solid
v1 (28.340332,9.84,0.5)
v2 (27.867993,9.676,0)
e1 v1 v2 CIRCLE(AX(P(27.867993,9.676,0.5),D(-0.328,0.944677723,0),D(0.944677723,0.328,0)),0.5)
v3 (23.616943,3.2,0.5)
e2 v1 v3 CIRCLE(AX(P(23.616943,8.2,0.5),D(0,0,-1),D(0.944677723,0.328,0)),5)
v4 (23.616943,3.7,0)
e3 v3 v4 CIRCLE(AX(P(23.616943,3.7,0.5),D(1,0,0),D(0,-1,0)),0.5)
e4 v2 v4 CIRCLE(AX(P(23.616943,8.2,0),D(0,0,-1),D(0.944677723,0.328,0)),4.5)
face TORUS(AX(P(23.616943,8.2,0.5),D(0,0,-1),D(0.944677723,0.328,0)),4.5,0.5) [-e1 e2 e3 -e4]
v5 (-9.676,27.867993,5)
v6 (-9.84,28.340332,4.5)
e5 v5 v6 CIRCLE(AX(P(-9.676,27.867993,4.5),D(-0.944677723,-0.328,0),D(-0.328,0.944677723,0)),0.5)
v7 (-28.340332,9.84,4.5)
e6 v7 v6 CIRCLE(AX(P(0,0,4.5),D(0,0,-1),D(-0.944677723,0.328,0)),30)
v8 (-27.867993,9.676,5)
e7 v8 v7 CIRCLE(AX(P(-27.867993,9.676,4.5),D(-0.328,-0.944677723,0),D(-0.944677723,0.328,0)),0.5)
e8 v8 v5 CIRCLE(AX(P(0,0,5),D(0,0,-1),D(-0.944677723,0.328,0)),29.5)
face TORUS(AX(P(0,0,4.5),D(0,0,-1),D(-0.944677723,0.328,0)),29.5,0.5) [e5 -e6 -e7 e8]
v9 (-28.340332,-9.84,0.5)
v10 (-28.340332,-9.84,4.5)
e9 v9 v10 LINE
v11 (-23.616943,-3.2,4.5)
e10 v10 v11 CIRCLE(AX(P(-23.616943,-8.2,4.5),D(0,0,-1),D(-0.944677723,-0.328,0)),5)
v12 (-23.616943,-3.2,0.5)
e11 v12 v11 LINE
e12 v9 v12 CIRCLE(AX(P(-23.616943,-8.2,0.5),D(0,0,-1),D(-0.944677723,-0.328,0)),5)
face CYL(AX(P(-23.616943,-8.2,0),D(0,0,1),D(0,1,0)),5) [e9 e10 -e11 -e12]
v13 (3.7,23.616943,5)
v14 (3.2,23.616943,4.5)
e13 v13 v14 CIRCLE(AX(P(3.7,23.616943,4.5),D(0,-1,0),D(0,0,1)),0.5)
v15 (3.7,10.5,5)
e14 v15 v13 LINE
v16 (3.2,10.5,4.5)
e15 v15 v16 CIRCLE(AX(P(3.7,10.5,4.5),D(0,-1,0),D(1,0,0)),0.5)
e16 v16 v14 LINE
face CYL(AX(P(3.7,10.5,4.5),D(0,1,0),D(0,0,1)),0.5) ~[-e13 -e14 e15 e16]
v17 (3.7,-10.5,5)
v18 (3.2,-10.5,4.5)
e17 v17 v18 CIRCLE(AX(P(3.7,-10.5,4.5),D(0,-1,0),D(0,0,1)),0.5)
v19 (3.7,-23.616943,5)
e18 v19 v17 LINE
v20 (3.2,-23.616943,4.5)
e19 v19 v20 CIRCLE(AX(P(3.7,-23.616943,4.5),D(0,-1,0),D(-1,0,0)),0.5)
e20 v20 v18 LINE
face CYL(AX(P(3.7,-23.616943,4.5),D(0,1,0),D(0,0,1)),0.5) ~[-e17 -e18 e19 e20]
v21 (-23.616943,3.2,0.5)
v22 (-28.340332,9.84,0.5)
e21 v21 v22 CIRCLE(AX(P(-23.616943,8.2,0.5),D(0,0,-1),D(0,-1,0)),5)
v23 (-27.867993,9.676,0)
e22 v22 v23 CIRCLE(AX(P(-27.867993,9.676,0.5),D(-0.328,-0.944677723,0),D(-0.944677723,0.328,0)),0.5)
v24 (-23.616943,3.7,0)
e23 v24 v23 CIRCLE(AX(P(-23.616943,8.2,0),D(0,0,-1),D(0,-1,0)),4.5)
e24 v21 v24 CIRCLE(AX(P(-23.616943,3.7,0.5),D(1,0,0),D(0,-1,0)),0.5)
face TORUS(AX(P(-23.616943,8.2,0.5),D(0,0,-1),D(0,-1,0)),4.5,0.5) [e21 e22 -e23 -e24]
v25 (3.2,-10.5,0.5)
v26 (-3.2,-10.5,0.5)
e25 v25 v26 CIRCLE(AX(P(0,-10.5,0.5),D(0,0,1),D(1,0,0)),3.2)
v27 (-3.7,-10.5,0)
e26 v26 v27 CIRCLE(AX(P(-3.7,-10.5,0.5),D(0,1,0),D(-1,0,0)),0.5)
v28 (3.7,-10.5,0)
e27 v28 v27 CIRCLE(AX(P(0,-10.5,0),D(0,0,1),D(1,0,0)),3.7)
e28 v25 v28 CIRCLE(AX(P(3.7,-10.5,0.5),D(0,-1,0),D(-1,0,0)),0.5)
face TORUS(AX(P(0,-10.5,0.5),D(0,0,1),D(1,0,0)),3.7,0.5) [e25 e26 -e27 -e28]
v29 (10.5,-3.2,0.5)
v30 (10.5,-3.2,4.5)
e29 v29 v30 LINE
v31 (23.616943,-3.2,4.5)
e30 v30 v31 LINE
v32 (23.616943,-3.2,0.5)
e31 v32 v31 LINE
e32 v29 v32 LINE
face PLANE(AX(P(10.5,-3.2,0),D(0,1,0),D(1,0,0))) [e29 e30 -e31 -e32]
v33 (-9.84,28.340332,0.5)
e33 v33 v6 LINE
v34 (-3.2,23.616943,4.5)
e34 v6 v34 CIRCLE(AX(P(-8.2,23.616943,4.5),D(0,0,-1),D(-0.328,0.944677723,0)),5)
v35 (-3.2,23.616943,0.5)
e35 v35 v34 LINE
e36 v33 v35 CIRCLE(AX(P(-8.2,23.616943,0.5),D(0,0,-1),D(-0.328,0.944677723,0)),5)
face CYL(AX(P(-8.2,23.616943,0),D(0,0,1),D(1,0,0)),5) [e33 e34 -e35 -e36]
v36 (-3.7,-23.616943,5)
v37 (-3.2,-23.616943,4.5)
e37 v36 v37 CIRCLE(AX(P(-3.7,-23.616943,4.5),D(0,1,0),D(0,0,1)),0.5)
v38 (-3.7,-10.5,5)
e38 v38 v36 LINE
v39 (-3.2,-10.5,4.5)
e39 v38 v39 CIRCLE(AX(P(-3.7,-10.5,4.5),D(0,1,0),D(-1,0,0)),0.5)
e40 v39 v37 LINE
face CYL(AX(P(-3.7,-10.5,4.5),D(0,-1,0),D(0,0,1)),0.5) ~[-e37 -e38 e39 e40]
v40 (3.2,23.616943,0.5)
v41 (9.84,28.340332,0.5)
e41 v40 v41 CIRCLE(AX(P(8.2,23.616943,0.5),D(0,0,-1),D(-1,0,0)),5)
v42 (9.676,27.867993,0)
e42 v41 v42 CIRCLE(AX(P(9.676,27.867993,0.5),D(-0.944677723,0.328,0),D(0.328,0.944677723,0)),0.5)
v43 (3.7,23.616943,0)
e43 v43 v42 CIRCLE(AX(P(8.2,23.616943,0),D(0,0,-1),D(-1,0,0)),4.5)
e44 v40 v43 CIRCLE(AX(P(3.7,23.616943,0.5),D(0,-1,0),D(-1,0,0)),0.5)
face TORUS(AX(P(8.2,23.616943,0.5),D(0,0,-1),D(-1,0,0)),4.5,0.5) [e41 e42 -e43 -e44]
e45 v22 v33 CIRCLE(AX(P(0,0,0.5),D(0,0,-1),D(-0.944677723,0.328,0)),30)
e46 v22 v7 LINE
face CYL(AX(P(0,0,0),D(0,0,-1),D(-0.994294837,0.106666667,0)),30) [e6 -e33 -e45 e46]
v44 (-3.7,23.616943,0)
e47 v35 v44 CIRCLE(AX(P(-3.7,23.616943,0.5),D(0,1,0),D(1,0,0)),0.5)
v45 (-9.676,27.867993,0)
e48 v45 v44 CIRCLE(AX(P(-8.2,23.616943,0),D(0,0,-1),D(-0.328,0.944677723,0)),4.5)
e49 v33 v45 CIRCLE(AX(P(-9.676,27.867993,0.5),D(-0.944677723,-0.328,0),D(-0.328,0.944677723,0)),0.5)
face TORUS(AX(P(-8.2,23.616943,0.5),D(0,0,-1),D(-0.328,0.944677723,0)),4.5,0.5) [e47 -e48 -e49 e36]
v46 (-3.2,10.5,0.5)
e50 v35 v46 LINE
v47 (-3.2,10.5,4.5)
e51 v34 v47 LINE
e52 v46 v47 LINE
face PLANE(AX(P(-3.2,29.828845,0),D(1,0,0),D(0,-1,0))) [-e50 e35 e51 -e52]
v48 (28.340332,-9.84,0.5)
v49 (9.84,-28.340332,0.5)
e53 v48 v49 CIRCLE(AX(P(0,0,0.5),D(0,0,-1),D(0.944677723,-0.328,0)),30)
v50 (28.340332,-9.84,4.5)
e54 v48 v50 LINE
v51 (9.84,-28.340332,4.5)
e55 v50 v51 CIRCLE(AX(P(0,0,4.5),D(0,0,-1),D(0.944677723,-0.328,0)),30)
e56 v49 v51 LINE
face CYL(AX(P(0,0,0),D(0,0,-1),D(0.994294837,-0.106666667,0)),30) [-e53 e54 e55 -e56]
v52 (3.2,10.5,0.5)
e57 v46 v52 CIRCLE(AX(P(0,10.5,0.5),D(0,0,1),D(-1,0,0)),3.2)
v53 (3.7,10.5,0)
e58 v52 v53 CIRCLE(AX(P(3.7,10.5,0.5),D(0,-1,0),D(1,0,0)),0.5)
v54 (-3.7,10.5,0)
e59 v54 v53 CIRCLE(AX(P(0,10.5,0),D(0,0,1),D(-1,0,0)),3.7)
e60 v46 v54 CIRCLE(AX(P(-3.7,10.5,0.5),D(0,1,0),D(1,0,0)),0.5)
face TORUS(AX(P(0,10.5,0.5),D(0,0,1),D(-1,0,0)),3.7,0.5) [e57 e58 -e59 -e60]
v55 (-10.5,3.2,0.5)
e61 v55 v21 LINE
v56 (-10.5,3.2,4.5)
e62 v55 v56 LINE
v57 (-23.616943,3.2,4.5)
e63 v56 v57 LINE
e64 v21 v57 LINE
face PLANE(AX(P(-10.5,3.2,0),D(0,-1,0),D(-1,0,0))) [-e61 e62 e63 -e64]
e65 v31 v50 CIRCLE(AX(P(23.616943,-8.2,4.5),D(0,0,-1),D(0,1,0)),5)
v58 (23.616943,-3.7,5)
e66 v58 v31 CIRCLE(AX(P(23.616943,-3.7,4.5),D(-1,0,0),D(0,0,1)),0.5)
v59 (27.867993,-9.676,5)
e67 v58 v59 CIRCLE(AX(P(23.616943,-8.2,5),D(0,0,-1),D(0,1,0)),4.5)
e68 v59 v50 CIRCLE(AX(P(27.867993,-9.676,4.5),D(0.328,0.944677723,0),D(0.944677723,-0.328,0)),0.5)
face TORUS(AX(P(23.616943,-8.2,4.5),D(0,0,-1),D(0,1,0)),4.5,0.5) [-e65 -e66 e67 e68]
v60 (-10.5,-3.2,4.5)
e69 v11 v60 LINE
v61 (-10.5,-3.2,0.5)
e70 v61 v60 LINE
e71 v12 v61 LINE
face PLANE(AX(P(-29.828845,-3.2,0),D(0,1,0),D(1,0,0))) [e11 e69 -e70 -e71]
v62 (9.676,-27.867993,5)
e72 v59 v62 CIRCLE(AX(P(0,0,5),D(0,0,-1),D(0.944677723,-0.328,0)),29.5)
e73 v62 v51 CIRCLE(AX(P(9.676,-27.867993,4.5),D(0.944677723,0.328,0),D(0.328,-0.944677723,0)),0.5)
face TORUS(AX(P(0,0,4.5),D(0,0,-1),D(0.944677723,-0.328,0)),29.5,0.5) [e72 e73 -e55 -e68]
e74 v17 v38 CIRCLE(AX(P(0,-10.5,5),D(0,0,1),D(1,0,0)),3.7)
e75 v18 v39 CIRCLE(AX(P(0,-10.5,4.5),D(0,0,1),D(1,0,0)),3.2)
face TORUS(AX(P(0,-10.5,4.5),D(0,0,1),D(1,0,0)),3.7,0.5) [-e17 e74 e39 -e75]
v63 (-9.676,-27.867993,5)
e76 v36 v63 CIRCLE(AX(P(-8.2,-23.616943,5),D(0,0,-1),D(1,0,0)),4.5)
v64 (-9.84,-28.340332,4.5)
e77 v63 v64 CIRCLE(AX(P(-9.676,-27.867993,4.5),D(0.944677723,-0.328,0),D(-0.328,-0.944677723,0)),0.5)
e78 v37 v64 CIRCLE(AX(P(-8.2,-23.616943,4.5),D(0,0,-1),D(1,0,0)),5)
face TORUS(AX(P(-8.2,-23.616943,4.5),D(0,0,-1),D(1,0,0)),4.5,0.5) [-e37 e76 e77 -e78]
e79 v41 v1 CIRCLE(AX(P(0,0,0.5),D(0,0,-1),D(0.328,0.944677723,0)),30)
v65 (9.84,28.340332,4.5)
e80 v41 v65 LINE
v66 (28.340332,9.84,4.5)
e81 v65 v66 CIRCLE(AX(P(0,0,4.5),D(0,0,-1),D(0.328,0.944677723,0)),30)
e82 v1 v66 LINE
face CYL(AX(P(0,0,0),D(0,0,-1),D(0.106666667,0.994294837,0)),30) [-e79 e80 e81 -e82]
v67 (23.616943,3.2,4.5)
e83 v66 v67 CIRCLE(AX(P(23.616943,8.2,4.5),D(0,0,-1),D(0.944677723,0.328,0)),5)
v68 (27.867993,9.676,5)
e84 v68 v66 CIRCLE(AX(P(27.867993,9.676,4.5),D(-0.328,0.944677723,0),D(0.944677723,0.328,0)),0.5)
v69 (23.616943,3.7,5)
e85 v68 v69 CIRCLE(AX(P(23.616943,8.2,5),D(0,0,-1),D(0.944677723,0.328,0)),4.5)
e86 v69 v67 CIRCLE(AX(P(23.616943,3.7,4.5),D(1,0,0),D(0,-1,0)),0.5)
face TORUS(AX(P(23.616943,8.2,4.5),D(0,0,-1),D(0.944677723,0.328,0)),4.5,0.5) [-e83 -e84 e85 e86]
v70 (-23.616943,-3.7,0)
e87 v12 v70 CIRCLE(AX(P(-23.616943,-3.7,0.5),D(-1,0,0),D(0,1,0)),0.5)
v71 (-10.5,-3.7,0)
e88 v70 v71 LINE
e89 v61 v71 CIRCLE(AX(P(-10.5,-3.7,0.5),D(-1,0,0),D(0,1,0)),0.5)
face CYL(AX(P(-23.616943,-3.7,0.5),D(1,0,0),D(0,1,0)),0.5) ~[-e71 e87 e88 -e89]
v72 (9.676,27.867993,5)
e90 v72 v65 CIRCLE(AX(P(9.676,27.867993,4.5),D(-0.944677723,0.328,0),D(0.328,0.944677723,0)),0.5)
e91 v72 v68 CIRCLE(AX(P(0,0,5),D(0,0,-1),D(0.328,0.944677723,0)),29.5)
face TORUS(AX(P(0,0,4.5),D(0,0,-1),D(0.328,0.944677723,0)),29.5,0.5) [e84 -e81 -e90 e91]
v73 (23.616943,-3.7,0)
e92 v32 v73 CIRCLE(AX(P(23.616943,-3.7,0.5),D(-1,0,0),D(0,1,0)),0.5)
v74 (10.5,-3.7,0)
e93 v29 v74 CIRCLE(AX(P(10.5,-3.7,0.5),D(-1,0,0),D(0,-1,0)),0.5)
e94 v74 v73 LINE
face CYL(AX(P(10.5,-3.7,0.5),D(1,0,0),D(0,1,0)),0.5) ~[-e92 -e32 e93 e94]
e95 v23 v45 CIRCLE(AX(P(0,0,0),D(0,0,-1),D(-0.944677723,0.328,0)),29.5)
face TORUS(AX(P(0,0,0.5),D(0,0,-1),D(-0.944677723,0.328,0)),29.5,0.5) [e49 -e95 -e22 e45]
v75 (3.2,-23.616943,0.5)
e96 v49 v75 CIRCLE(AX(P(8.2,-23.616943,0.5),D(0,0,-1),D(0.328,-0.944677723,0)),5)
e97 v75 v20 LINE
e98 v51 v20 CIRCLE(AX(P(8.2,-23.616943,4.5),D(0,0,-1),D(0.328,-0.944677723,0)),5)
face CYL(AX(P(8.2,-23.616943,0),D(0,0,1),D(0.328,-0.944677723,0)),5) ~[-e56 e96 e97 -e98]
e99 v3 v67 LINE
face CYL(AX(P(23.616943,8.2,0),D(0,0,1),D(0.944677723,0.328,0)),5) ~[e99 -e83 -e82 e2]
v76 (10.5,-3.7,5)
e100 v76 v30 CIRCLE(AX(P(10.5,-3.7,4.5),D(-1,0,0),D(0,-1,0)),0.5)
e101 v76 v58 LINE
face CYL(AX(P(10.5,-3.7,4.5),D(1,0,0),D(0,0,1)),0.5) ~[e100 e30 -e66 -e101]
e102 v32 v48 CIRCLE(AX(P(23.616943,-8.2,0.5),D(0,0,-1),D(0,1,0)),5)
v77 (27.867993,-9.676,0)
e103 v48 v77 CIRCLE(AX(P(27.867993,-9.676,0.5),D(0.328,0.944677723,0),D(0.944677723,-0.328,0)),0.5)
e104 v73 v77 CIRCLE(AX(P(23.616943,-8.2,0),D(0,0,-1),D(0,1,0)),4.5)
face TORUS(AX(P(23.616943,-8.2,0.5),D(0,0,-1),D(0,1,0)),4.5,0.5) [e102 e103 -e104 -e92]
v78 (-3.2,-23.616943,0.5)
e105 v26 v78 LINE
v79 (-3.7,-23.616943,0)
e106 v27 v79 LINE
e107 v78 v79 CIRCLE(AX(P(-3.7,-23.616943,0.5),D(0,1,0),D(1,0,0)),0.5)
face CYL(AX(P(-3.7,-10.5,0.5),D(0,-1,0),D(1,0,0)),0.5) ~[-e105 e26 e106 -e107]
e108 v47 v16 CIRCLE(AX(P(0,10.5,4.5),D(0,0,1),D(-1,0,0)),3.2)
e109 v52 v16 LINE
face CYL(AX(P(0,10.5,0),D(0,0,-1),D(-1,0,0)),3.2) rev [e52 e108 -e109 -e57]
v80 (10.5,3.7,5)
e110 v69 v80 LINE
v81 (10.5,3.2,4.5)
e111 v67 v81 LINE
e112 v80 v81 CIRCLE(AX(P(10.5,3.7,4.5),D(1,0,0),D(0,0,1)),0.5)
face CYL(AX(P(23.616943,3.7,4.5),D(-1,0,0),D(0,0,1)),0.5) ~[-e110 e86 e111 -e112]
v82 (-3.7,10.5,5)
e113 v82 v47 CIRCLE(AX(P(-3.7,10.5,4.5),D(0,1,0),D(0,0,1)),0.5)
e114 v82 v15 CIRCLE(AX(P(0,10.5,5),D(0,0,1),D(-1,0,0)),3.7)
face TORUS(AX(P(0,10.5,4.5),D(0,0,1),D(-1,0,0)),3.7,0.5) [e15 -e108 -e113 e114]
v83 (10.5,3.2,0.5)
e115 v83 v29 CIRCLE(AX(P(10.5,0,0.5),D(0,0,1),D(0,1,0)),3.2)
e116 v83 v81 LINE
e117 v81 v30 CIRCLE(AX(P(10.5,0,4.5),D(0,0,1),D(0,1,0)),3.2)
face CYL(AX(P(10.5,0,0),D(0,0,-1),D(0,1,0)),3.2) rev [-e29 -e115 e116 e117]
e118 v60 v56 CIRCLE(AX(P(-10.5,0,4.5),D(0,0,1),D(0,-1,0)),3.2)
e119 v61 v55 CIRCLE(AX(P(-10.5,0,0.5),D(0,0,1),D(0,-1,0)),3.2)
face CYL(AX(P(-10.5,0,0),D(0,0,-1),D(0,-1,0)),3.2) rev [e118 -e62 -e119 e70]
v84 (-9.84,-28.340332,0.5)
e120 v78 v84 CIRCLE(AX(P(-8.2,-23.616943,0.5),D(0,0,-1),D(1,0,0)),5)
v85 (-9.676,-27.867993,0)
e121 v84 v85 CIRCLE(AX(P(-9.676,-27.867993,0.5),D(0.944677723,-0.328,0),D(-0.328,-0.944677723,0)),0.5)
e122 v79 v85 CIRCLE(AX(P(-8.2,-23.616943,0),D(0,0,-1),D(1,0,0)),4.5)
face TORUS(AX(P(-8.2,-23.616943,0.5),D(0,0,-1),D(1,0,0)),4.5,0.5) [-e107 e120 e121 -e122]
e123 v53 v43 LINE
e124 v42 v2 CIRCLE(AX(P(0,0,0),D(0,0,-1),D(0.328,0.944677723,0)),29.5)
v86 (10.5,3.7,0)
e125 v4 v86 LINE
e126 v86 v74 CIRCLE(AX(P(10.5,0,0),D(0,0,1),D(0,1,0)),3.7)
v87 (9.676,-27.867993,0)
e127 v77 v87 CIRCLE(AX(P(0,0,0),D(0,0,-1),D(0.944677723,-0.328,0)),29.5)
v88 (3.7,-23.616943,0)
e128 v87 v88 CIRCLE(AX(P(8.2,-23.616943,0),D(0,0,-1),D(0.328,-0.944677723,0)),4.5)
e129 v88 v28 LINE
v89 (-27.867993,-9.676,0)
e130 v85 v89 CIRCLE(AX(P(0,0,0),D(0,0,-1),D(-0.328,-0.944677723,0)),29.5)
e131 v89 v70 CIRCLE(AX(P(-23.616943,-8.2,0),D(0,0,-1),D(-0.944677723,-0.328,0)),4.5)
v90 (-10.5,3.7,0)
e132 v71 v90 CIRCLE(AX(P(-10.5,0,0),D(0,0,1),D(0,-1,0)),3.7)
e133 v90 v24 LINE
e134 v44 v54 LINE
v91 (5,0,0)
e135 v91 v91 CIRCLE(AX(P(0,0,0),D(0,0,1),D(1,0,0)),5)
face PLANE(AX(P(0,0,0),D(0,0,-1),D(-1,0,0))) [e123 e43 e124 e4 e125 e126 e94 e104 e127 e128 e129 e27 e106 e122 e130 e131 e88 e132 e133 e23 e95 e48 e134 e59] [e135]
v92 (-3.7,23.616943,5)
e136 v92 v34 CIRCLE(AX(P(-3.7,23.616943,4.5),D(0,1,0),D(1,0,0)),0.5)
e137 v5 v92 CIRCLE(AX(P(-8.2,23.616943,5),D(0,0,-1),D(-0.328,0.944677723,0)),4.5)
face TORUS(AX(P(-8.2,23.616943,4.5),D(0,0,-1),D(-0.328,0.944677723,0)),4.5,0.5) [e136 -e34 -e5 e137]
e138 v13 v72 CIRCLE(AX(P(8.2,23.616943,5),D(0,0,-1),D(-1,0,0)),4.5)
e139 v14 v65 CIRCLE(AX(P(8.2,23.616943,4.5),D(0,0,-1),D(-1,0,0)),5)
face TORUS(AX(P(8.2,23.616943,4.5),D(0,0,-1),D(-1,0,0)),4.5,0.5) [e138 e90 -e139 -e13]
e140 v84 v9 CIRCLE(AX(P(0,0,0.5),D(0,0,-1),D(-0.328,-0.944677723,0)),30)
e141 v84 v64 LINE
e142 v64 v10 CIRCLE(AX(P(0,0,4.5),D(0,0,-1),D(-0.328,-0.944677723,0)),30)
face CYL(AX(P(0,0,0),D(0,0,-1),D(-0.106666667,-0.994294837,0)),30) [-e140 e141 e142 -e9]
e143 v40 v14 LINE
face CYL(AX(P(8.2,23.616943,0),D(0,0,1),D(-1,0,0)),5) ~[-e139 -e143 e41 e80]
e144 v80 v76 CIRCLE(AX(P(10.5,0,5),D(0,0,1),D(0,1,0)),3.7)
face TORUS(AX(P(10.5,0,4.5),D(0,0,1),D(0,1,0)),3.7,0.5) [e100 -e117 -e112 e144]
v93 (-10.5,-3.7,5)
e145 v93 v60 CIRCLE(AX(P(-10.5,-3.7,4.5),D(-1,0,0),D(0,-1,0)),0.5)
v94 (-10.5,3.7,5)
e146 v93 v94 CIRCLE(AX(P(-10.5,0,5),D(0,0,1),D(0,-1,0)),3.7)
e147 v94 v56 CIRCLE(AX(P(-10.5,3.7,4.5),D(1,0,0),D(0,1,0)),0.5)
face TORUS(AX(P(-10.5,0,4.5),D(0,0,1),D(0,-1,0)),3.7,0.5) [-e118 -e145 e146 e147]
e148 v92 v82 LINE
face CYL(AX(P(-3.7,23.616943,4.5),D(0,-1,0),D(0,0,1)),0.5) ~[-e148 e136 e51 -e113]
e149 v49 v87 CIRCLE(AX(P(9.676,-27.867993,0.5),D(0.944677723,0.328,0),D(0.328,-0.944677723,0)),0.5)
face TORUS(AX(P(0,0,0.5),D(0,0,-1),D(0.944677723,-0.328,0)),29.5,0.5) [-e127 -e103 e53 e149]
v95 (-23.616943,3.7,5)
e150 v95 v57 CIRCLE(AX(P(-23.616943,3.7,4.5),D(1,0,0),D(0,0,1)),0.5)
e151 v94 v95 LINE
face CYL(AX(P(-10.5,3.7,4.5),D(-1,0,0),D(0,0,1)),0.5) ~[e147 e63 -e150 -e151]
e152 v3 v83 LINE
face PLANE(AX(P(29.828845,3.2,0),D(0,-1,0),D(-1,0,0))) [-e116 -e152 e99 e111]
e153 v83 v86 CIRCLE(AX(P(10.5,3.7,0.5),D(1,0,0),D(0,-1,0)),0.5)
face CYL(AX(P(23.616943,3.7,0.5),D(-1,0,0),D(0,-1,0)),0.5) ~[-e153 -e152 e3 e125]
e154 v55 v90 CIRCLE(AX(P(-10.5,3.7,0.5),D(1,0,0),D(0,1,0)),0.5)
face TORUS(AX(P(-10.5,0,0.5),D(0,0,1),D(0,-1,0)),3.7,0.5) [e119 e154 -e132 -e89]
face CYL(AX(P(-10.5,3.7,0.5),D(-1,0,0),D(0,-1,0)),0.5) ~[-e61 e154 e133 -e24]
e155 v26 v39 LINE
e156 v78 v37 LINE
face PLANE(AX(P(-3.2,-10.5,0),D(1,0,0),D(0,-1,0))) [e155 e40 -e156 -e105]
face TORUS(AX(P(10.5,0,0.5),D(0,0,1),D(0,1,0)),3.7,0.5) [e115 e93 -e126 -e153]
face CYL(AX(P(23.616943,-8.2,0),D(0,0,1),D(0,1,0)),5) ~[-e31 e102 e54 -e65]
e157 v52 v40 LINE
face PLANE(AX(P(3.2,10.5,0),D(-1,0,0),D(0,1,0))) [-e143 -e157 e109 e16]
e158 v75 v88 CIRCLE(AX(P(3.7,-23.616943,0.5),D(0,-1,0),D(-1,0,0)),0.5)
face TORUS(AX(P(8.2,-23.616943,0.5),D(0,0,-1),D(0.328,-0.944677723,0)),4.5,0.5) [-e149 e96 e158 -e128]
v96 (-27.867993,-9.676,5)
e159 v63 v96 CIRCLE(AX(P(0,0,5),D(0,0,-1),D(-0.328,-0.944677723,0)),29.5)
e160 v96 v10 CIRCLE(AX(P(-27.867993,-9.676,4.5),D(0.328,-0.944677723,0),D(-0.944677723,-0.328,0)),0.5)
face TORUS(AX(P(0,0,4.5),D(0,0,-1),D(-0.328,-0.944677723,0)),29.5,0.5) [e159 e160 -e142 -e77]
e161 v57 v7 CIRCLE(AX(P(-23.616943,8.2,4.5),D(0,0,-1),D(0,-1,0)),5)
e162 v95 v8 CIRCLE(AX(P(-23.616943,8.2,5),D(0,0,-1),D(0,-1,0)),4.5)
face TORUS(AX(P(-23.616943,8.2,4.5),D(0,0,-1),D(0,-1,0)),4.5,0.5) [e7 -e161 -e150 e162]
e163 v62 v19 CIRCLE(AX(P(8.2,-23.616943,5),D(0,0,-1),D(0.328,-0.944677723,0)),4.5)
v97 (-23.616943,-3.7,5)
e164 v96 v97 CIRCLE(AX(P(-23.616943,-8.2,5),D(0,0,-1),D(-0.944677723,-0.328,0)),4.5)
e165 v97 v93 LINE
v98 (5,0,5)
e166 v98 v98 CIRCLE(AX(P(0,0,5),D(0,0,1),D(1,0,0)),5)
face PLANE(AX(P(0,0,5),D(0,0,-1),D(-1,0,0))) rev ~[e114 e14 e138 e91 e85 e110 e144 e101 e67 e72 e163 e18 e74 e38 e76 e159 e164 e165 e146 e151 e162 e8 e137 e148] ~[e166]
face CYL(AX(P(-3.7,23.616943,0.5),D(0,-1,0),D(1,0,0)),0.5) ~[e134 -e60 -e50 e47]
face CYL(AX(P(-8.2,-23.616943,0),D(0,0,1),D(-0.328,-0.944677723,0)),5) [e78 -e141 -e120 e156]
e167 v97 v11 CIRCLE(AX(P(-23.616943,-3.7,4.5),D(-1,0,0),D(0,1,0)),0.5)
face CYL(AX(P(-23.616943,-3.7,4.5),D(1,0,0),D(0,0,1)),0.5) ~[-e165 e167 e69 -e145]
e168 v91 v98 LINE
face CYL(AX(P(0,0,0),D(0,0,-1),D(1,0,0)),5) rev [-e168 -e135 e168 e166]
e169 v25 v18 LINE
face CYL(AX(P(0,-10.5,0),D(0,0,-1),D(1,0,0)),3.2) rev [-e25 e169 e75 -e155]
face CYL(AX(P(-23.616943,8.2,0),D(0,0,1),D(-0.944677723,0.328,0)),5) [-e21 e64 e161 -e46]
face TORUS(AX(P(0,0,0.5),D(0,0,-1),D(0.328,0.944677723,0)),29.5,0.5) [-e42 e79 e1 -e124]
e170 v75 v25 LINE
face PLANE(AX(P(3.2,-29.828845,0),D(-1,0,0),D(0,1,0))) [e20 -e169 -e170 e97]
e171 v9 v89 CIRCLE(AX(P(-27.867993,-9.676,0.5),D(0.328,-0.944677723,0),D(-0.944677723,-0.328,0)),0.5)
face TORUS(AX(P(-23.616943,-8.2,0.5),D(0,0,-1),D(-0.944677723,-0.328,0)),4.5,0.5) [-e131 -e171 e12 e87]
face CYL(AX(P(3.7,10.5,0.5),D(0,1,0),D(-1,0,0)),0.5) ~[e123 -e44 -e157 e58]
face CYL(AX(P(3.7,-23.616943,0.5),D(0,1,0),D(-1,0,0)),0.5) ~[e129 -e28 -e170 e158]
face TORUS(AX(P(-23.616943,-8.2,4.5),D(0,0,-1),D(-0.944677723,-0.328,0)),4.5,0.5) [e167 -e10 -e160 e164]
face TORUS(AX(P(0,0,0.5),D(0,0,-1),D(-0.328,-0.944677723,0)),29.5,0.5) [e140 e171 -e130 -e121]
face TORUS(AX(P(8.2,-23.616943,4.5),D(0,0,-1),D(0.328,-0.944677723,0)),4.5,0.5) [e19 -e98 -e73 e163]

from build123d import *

# Parameters (mm, degrees)
SKICA1_R                = 5
P_IDAT_VYSUNUT_M1_DEPTH = 5
ZAOBLIT1_R              = 5
ZAOBLIT2_R              = 0.5


with BuildPart() as part:
    # Skica1 → Přidat vysunutím1 (new body)
    with BuildSketch(Plane.XY):
        with BuildLine():
            Line((-3.2, 29.8288451), (-3.2, 10.5))
            ThreePointArc((-3.2, 10.5), (0, 7.3), (3.2, 10.5))
            Line((3.2, 10.5), (3.2, 29.8288451))
            ThreePointArc((3.2, 29.8288451), (21.213203436, 21.213203436), (29.8288451, 3.2))
            Line((29.8288451, 3.2), (10.5, 3.2))
            ThreePointArc((10.5, 3.2), (7.3, 0), (10.5, -3.2))
            Line((10.5, -3.2), (29.8288451, -3.2))
            ThreePointArc((29.8288451, -3.2), (21.213203436, -21.213203436), (3.2, -29.8288451))
            Line((3.2, -29.8288451), (3.2, -10.5))
            ThreePointArc((3.2, -10.5), (0, -7.3), (-3.2, -10.5))
            Line((-3.2, -10.5), (-3.2, -29.8288451))
            ThreePointArc((-3.2, -29.8288451), (-21.213203436, -21.213203436), (-29.8288451, -3.2))
            Line((-29.8288451, -3.2), (-10.5, -3.2))
            ThreePointArc((-10.5, -3.2), (-7.3, 0), (-10.5, 3.2))
            Line((-10.5, 3.2), (-29.8288451, 3.2))
            ThreePointArc((-29.8288451, 3.2), (-21.213203436, 21.213203436), (-3.2, 29.8288451))
        make_face()
        Circle(SKICA1_R, mode=Mode.SUBTRACT)
    extrude(amount=P_IDAT_VYSUNUT_M1_DEPTH)

    # Zaoblit1
    zaoblit1_edges = [part.edges().sort_by_distance(p)[0] for p in [
        (-3.2, 29.8288451, 2.5),
        (3.2, 29.8288451, 2.5),
        (29.8288451, 3.2, 2.5),
        (29.8288451, -3.2, 2.5),
        (3.2, -29.8288451, 2.5),
        (-3.2, -29.8288451, 2.5),
        (-29.8288451, -3.2, 2.5),
        (-29.8288451, 3.2, 2.5),
    ]]
    fillet(zaoblit1_edges, radius=ZAOBLIT1_R)

    # Zaoblit2
    zaoblit2_edges = [part.edges().sort_by_distance(p)[0] for p in [
        (-7.3, 0, 5),
        (-17.058471535, -3.2, 5),
        (-3.2, 17.058471535, 0),
        (0, 7.3, 0),
        (17.058471535, 3.2, 0),
        (7.3, 0, 0),
        (3.2, -17.058471535, 0),
        (0, -7.3, 0),
        (-17.058471535, -3.2, 0),
        (-7.3, 0, 0),
        (0, -7.3, 5),
        (3.2, -17.058471535, 5),
        (7.3, 0, 5),
        (17.058471535, 3.2, 5),
        (0, 7.3, 5),
        (-21.213203436, 21.213203436, 0),
        (-21.213203436, 21.213203436, 5),
        (-3.2, 17.058471535, 5),
        (3.2, 17.058471535, 0),
        (21.213203436, 21.213203436, 0),
        (17.058471535, -3.2, 0),
        (21.213203436, -21.213203436, 0),
        (-3.2, -17.058471535, 0),
        (-21.213203436, -21.213203436, 0),
        (-17.058471535, 3.2, 0),
        (-27.691252828, 5.301724651, 0),
        (-27.691252828, -5.301724651, 0),
        (-5.301724651, -27.691252828, 0),
        (5.301724651, -27.691252828, 0),
        (27.691252828, -5.301724651, 0),
        (27.691252828, 5.301724651, 0),
        (5.301724651, 27.691252828, 0),
        (-5.301724651, 27.691252828, 0),
        (-17.058471535, 3.2, 5),
        (-21.213203436, -21.213203436, 5),
        (-3.2, -17.058471535, 5),
        (21.213203436, -21.213203436, 5),
        (17.058471535, -3.2, 5),
        (21.213203436, 21.213203436, 5),
        (3.2, 17.058471535, 5),
        (-27.691252828, 5.301724651, 5),
        (-27.691252828, -5.301724651, 5),
        (-5.301724651, -27.691252828, 5),
        (5.301724651, -27.691252828, 5),
        (27.691252828, -5.301724651, 5),
        (27.691252828, 5.301724651, 5),
        (5.301724651, 27.691252828, 5),
        (-5.301724651, 27.691252828, 5),
    ]]
    fillet(zaoblit2_edges, radius=ZAOBLIT2_R)


solid = part.part
